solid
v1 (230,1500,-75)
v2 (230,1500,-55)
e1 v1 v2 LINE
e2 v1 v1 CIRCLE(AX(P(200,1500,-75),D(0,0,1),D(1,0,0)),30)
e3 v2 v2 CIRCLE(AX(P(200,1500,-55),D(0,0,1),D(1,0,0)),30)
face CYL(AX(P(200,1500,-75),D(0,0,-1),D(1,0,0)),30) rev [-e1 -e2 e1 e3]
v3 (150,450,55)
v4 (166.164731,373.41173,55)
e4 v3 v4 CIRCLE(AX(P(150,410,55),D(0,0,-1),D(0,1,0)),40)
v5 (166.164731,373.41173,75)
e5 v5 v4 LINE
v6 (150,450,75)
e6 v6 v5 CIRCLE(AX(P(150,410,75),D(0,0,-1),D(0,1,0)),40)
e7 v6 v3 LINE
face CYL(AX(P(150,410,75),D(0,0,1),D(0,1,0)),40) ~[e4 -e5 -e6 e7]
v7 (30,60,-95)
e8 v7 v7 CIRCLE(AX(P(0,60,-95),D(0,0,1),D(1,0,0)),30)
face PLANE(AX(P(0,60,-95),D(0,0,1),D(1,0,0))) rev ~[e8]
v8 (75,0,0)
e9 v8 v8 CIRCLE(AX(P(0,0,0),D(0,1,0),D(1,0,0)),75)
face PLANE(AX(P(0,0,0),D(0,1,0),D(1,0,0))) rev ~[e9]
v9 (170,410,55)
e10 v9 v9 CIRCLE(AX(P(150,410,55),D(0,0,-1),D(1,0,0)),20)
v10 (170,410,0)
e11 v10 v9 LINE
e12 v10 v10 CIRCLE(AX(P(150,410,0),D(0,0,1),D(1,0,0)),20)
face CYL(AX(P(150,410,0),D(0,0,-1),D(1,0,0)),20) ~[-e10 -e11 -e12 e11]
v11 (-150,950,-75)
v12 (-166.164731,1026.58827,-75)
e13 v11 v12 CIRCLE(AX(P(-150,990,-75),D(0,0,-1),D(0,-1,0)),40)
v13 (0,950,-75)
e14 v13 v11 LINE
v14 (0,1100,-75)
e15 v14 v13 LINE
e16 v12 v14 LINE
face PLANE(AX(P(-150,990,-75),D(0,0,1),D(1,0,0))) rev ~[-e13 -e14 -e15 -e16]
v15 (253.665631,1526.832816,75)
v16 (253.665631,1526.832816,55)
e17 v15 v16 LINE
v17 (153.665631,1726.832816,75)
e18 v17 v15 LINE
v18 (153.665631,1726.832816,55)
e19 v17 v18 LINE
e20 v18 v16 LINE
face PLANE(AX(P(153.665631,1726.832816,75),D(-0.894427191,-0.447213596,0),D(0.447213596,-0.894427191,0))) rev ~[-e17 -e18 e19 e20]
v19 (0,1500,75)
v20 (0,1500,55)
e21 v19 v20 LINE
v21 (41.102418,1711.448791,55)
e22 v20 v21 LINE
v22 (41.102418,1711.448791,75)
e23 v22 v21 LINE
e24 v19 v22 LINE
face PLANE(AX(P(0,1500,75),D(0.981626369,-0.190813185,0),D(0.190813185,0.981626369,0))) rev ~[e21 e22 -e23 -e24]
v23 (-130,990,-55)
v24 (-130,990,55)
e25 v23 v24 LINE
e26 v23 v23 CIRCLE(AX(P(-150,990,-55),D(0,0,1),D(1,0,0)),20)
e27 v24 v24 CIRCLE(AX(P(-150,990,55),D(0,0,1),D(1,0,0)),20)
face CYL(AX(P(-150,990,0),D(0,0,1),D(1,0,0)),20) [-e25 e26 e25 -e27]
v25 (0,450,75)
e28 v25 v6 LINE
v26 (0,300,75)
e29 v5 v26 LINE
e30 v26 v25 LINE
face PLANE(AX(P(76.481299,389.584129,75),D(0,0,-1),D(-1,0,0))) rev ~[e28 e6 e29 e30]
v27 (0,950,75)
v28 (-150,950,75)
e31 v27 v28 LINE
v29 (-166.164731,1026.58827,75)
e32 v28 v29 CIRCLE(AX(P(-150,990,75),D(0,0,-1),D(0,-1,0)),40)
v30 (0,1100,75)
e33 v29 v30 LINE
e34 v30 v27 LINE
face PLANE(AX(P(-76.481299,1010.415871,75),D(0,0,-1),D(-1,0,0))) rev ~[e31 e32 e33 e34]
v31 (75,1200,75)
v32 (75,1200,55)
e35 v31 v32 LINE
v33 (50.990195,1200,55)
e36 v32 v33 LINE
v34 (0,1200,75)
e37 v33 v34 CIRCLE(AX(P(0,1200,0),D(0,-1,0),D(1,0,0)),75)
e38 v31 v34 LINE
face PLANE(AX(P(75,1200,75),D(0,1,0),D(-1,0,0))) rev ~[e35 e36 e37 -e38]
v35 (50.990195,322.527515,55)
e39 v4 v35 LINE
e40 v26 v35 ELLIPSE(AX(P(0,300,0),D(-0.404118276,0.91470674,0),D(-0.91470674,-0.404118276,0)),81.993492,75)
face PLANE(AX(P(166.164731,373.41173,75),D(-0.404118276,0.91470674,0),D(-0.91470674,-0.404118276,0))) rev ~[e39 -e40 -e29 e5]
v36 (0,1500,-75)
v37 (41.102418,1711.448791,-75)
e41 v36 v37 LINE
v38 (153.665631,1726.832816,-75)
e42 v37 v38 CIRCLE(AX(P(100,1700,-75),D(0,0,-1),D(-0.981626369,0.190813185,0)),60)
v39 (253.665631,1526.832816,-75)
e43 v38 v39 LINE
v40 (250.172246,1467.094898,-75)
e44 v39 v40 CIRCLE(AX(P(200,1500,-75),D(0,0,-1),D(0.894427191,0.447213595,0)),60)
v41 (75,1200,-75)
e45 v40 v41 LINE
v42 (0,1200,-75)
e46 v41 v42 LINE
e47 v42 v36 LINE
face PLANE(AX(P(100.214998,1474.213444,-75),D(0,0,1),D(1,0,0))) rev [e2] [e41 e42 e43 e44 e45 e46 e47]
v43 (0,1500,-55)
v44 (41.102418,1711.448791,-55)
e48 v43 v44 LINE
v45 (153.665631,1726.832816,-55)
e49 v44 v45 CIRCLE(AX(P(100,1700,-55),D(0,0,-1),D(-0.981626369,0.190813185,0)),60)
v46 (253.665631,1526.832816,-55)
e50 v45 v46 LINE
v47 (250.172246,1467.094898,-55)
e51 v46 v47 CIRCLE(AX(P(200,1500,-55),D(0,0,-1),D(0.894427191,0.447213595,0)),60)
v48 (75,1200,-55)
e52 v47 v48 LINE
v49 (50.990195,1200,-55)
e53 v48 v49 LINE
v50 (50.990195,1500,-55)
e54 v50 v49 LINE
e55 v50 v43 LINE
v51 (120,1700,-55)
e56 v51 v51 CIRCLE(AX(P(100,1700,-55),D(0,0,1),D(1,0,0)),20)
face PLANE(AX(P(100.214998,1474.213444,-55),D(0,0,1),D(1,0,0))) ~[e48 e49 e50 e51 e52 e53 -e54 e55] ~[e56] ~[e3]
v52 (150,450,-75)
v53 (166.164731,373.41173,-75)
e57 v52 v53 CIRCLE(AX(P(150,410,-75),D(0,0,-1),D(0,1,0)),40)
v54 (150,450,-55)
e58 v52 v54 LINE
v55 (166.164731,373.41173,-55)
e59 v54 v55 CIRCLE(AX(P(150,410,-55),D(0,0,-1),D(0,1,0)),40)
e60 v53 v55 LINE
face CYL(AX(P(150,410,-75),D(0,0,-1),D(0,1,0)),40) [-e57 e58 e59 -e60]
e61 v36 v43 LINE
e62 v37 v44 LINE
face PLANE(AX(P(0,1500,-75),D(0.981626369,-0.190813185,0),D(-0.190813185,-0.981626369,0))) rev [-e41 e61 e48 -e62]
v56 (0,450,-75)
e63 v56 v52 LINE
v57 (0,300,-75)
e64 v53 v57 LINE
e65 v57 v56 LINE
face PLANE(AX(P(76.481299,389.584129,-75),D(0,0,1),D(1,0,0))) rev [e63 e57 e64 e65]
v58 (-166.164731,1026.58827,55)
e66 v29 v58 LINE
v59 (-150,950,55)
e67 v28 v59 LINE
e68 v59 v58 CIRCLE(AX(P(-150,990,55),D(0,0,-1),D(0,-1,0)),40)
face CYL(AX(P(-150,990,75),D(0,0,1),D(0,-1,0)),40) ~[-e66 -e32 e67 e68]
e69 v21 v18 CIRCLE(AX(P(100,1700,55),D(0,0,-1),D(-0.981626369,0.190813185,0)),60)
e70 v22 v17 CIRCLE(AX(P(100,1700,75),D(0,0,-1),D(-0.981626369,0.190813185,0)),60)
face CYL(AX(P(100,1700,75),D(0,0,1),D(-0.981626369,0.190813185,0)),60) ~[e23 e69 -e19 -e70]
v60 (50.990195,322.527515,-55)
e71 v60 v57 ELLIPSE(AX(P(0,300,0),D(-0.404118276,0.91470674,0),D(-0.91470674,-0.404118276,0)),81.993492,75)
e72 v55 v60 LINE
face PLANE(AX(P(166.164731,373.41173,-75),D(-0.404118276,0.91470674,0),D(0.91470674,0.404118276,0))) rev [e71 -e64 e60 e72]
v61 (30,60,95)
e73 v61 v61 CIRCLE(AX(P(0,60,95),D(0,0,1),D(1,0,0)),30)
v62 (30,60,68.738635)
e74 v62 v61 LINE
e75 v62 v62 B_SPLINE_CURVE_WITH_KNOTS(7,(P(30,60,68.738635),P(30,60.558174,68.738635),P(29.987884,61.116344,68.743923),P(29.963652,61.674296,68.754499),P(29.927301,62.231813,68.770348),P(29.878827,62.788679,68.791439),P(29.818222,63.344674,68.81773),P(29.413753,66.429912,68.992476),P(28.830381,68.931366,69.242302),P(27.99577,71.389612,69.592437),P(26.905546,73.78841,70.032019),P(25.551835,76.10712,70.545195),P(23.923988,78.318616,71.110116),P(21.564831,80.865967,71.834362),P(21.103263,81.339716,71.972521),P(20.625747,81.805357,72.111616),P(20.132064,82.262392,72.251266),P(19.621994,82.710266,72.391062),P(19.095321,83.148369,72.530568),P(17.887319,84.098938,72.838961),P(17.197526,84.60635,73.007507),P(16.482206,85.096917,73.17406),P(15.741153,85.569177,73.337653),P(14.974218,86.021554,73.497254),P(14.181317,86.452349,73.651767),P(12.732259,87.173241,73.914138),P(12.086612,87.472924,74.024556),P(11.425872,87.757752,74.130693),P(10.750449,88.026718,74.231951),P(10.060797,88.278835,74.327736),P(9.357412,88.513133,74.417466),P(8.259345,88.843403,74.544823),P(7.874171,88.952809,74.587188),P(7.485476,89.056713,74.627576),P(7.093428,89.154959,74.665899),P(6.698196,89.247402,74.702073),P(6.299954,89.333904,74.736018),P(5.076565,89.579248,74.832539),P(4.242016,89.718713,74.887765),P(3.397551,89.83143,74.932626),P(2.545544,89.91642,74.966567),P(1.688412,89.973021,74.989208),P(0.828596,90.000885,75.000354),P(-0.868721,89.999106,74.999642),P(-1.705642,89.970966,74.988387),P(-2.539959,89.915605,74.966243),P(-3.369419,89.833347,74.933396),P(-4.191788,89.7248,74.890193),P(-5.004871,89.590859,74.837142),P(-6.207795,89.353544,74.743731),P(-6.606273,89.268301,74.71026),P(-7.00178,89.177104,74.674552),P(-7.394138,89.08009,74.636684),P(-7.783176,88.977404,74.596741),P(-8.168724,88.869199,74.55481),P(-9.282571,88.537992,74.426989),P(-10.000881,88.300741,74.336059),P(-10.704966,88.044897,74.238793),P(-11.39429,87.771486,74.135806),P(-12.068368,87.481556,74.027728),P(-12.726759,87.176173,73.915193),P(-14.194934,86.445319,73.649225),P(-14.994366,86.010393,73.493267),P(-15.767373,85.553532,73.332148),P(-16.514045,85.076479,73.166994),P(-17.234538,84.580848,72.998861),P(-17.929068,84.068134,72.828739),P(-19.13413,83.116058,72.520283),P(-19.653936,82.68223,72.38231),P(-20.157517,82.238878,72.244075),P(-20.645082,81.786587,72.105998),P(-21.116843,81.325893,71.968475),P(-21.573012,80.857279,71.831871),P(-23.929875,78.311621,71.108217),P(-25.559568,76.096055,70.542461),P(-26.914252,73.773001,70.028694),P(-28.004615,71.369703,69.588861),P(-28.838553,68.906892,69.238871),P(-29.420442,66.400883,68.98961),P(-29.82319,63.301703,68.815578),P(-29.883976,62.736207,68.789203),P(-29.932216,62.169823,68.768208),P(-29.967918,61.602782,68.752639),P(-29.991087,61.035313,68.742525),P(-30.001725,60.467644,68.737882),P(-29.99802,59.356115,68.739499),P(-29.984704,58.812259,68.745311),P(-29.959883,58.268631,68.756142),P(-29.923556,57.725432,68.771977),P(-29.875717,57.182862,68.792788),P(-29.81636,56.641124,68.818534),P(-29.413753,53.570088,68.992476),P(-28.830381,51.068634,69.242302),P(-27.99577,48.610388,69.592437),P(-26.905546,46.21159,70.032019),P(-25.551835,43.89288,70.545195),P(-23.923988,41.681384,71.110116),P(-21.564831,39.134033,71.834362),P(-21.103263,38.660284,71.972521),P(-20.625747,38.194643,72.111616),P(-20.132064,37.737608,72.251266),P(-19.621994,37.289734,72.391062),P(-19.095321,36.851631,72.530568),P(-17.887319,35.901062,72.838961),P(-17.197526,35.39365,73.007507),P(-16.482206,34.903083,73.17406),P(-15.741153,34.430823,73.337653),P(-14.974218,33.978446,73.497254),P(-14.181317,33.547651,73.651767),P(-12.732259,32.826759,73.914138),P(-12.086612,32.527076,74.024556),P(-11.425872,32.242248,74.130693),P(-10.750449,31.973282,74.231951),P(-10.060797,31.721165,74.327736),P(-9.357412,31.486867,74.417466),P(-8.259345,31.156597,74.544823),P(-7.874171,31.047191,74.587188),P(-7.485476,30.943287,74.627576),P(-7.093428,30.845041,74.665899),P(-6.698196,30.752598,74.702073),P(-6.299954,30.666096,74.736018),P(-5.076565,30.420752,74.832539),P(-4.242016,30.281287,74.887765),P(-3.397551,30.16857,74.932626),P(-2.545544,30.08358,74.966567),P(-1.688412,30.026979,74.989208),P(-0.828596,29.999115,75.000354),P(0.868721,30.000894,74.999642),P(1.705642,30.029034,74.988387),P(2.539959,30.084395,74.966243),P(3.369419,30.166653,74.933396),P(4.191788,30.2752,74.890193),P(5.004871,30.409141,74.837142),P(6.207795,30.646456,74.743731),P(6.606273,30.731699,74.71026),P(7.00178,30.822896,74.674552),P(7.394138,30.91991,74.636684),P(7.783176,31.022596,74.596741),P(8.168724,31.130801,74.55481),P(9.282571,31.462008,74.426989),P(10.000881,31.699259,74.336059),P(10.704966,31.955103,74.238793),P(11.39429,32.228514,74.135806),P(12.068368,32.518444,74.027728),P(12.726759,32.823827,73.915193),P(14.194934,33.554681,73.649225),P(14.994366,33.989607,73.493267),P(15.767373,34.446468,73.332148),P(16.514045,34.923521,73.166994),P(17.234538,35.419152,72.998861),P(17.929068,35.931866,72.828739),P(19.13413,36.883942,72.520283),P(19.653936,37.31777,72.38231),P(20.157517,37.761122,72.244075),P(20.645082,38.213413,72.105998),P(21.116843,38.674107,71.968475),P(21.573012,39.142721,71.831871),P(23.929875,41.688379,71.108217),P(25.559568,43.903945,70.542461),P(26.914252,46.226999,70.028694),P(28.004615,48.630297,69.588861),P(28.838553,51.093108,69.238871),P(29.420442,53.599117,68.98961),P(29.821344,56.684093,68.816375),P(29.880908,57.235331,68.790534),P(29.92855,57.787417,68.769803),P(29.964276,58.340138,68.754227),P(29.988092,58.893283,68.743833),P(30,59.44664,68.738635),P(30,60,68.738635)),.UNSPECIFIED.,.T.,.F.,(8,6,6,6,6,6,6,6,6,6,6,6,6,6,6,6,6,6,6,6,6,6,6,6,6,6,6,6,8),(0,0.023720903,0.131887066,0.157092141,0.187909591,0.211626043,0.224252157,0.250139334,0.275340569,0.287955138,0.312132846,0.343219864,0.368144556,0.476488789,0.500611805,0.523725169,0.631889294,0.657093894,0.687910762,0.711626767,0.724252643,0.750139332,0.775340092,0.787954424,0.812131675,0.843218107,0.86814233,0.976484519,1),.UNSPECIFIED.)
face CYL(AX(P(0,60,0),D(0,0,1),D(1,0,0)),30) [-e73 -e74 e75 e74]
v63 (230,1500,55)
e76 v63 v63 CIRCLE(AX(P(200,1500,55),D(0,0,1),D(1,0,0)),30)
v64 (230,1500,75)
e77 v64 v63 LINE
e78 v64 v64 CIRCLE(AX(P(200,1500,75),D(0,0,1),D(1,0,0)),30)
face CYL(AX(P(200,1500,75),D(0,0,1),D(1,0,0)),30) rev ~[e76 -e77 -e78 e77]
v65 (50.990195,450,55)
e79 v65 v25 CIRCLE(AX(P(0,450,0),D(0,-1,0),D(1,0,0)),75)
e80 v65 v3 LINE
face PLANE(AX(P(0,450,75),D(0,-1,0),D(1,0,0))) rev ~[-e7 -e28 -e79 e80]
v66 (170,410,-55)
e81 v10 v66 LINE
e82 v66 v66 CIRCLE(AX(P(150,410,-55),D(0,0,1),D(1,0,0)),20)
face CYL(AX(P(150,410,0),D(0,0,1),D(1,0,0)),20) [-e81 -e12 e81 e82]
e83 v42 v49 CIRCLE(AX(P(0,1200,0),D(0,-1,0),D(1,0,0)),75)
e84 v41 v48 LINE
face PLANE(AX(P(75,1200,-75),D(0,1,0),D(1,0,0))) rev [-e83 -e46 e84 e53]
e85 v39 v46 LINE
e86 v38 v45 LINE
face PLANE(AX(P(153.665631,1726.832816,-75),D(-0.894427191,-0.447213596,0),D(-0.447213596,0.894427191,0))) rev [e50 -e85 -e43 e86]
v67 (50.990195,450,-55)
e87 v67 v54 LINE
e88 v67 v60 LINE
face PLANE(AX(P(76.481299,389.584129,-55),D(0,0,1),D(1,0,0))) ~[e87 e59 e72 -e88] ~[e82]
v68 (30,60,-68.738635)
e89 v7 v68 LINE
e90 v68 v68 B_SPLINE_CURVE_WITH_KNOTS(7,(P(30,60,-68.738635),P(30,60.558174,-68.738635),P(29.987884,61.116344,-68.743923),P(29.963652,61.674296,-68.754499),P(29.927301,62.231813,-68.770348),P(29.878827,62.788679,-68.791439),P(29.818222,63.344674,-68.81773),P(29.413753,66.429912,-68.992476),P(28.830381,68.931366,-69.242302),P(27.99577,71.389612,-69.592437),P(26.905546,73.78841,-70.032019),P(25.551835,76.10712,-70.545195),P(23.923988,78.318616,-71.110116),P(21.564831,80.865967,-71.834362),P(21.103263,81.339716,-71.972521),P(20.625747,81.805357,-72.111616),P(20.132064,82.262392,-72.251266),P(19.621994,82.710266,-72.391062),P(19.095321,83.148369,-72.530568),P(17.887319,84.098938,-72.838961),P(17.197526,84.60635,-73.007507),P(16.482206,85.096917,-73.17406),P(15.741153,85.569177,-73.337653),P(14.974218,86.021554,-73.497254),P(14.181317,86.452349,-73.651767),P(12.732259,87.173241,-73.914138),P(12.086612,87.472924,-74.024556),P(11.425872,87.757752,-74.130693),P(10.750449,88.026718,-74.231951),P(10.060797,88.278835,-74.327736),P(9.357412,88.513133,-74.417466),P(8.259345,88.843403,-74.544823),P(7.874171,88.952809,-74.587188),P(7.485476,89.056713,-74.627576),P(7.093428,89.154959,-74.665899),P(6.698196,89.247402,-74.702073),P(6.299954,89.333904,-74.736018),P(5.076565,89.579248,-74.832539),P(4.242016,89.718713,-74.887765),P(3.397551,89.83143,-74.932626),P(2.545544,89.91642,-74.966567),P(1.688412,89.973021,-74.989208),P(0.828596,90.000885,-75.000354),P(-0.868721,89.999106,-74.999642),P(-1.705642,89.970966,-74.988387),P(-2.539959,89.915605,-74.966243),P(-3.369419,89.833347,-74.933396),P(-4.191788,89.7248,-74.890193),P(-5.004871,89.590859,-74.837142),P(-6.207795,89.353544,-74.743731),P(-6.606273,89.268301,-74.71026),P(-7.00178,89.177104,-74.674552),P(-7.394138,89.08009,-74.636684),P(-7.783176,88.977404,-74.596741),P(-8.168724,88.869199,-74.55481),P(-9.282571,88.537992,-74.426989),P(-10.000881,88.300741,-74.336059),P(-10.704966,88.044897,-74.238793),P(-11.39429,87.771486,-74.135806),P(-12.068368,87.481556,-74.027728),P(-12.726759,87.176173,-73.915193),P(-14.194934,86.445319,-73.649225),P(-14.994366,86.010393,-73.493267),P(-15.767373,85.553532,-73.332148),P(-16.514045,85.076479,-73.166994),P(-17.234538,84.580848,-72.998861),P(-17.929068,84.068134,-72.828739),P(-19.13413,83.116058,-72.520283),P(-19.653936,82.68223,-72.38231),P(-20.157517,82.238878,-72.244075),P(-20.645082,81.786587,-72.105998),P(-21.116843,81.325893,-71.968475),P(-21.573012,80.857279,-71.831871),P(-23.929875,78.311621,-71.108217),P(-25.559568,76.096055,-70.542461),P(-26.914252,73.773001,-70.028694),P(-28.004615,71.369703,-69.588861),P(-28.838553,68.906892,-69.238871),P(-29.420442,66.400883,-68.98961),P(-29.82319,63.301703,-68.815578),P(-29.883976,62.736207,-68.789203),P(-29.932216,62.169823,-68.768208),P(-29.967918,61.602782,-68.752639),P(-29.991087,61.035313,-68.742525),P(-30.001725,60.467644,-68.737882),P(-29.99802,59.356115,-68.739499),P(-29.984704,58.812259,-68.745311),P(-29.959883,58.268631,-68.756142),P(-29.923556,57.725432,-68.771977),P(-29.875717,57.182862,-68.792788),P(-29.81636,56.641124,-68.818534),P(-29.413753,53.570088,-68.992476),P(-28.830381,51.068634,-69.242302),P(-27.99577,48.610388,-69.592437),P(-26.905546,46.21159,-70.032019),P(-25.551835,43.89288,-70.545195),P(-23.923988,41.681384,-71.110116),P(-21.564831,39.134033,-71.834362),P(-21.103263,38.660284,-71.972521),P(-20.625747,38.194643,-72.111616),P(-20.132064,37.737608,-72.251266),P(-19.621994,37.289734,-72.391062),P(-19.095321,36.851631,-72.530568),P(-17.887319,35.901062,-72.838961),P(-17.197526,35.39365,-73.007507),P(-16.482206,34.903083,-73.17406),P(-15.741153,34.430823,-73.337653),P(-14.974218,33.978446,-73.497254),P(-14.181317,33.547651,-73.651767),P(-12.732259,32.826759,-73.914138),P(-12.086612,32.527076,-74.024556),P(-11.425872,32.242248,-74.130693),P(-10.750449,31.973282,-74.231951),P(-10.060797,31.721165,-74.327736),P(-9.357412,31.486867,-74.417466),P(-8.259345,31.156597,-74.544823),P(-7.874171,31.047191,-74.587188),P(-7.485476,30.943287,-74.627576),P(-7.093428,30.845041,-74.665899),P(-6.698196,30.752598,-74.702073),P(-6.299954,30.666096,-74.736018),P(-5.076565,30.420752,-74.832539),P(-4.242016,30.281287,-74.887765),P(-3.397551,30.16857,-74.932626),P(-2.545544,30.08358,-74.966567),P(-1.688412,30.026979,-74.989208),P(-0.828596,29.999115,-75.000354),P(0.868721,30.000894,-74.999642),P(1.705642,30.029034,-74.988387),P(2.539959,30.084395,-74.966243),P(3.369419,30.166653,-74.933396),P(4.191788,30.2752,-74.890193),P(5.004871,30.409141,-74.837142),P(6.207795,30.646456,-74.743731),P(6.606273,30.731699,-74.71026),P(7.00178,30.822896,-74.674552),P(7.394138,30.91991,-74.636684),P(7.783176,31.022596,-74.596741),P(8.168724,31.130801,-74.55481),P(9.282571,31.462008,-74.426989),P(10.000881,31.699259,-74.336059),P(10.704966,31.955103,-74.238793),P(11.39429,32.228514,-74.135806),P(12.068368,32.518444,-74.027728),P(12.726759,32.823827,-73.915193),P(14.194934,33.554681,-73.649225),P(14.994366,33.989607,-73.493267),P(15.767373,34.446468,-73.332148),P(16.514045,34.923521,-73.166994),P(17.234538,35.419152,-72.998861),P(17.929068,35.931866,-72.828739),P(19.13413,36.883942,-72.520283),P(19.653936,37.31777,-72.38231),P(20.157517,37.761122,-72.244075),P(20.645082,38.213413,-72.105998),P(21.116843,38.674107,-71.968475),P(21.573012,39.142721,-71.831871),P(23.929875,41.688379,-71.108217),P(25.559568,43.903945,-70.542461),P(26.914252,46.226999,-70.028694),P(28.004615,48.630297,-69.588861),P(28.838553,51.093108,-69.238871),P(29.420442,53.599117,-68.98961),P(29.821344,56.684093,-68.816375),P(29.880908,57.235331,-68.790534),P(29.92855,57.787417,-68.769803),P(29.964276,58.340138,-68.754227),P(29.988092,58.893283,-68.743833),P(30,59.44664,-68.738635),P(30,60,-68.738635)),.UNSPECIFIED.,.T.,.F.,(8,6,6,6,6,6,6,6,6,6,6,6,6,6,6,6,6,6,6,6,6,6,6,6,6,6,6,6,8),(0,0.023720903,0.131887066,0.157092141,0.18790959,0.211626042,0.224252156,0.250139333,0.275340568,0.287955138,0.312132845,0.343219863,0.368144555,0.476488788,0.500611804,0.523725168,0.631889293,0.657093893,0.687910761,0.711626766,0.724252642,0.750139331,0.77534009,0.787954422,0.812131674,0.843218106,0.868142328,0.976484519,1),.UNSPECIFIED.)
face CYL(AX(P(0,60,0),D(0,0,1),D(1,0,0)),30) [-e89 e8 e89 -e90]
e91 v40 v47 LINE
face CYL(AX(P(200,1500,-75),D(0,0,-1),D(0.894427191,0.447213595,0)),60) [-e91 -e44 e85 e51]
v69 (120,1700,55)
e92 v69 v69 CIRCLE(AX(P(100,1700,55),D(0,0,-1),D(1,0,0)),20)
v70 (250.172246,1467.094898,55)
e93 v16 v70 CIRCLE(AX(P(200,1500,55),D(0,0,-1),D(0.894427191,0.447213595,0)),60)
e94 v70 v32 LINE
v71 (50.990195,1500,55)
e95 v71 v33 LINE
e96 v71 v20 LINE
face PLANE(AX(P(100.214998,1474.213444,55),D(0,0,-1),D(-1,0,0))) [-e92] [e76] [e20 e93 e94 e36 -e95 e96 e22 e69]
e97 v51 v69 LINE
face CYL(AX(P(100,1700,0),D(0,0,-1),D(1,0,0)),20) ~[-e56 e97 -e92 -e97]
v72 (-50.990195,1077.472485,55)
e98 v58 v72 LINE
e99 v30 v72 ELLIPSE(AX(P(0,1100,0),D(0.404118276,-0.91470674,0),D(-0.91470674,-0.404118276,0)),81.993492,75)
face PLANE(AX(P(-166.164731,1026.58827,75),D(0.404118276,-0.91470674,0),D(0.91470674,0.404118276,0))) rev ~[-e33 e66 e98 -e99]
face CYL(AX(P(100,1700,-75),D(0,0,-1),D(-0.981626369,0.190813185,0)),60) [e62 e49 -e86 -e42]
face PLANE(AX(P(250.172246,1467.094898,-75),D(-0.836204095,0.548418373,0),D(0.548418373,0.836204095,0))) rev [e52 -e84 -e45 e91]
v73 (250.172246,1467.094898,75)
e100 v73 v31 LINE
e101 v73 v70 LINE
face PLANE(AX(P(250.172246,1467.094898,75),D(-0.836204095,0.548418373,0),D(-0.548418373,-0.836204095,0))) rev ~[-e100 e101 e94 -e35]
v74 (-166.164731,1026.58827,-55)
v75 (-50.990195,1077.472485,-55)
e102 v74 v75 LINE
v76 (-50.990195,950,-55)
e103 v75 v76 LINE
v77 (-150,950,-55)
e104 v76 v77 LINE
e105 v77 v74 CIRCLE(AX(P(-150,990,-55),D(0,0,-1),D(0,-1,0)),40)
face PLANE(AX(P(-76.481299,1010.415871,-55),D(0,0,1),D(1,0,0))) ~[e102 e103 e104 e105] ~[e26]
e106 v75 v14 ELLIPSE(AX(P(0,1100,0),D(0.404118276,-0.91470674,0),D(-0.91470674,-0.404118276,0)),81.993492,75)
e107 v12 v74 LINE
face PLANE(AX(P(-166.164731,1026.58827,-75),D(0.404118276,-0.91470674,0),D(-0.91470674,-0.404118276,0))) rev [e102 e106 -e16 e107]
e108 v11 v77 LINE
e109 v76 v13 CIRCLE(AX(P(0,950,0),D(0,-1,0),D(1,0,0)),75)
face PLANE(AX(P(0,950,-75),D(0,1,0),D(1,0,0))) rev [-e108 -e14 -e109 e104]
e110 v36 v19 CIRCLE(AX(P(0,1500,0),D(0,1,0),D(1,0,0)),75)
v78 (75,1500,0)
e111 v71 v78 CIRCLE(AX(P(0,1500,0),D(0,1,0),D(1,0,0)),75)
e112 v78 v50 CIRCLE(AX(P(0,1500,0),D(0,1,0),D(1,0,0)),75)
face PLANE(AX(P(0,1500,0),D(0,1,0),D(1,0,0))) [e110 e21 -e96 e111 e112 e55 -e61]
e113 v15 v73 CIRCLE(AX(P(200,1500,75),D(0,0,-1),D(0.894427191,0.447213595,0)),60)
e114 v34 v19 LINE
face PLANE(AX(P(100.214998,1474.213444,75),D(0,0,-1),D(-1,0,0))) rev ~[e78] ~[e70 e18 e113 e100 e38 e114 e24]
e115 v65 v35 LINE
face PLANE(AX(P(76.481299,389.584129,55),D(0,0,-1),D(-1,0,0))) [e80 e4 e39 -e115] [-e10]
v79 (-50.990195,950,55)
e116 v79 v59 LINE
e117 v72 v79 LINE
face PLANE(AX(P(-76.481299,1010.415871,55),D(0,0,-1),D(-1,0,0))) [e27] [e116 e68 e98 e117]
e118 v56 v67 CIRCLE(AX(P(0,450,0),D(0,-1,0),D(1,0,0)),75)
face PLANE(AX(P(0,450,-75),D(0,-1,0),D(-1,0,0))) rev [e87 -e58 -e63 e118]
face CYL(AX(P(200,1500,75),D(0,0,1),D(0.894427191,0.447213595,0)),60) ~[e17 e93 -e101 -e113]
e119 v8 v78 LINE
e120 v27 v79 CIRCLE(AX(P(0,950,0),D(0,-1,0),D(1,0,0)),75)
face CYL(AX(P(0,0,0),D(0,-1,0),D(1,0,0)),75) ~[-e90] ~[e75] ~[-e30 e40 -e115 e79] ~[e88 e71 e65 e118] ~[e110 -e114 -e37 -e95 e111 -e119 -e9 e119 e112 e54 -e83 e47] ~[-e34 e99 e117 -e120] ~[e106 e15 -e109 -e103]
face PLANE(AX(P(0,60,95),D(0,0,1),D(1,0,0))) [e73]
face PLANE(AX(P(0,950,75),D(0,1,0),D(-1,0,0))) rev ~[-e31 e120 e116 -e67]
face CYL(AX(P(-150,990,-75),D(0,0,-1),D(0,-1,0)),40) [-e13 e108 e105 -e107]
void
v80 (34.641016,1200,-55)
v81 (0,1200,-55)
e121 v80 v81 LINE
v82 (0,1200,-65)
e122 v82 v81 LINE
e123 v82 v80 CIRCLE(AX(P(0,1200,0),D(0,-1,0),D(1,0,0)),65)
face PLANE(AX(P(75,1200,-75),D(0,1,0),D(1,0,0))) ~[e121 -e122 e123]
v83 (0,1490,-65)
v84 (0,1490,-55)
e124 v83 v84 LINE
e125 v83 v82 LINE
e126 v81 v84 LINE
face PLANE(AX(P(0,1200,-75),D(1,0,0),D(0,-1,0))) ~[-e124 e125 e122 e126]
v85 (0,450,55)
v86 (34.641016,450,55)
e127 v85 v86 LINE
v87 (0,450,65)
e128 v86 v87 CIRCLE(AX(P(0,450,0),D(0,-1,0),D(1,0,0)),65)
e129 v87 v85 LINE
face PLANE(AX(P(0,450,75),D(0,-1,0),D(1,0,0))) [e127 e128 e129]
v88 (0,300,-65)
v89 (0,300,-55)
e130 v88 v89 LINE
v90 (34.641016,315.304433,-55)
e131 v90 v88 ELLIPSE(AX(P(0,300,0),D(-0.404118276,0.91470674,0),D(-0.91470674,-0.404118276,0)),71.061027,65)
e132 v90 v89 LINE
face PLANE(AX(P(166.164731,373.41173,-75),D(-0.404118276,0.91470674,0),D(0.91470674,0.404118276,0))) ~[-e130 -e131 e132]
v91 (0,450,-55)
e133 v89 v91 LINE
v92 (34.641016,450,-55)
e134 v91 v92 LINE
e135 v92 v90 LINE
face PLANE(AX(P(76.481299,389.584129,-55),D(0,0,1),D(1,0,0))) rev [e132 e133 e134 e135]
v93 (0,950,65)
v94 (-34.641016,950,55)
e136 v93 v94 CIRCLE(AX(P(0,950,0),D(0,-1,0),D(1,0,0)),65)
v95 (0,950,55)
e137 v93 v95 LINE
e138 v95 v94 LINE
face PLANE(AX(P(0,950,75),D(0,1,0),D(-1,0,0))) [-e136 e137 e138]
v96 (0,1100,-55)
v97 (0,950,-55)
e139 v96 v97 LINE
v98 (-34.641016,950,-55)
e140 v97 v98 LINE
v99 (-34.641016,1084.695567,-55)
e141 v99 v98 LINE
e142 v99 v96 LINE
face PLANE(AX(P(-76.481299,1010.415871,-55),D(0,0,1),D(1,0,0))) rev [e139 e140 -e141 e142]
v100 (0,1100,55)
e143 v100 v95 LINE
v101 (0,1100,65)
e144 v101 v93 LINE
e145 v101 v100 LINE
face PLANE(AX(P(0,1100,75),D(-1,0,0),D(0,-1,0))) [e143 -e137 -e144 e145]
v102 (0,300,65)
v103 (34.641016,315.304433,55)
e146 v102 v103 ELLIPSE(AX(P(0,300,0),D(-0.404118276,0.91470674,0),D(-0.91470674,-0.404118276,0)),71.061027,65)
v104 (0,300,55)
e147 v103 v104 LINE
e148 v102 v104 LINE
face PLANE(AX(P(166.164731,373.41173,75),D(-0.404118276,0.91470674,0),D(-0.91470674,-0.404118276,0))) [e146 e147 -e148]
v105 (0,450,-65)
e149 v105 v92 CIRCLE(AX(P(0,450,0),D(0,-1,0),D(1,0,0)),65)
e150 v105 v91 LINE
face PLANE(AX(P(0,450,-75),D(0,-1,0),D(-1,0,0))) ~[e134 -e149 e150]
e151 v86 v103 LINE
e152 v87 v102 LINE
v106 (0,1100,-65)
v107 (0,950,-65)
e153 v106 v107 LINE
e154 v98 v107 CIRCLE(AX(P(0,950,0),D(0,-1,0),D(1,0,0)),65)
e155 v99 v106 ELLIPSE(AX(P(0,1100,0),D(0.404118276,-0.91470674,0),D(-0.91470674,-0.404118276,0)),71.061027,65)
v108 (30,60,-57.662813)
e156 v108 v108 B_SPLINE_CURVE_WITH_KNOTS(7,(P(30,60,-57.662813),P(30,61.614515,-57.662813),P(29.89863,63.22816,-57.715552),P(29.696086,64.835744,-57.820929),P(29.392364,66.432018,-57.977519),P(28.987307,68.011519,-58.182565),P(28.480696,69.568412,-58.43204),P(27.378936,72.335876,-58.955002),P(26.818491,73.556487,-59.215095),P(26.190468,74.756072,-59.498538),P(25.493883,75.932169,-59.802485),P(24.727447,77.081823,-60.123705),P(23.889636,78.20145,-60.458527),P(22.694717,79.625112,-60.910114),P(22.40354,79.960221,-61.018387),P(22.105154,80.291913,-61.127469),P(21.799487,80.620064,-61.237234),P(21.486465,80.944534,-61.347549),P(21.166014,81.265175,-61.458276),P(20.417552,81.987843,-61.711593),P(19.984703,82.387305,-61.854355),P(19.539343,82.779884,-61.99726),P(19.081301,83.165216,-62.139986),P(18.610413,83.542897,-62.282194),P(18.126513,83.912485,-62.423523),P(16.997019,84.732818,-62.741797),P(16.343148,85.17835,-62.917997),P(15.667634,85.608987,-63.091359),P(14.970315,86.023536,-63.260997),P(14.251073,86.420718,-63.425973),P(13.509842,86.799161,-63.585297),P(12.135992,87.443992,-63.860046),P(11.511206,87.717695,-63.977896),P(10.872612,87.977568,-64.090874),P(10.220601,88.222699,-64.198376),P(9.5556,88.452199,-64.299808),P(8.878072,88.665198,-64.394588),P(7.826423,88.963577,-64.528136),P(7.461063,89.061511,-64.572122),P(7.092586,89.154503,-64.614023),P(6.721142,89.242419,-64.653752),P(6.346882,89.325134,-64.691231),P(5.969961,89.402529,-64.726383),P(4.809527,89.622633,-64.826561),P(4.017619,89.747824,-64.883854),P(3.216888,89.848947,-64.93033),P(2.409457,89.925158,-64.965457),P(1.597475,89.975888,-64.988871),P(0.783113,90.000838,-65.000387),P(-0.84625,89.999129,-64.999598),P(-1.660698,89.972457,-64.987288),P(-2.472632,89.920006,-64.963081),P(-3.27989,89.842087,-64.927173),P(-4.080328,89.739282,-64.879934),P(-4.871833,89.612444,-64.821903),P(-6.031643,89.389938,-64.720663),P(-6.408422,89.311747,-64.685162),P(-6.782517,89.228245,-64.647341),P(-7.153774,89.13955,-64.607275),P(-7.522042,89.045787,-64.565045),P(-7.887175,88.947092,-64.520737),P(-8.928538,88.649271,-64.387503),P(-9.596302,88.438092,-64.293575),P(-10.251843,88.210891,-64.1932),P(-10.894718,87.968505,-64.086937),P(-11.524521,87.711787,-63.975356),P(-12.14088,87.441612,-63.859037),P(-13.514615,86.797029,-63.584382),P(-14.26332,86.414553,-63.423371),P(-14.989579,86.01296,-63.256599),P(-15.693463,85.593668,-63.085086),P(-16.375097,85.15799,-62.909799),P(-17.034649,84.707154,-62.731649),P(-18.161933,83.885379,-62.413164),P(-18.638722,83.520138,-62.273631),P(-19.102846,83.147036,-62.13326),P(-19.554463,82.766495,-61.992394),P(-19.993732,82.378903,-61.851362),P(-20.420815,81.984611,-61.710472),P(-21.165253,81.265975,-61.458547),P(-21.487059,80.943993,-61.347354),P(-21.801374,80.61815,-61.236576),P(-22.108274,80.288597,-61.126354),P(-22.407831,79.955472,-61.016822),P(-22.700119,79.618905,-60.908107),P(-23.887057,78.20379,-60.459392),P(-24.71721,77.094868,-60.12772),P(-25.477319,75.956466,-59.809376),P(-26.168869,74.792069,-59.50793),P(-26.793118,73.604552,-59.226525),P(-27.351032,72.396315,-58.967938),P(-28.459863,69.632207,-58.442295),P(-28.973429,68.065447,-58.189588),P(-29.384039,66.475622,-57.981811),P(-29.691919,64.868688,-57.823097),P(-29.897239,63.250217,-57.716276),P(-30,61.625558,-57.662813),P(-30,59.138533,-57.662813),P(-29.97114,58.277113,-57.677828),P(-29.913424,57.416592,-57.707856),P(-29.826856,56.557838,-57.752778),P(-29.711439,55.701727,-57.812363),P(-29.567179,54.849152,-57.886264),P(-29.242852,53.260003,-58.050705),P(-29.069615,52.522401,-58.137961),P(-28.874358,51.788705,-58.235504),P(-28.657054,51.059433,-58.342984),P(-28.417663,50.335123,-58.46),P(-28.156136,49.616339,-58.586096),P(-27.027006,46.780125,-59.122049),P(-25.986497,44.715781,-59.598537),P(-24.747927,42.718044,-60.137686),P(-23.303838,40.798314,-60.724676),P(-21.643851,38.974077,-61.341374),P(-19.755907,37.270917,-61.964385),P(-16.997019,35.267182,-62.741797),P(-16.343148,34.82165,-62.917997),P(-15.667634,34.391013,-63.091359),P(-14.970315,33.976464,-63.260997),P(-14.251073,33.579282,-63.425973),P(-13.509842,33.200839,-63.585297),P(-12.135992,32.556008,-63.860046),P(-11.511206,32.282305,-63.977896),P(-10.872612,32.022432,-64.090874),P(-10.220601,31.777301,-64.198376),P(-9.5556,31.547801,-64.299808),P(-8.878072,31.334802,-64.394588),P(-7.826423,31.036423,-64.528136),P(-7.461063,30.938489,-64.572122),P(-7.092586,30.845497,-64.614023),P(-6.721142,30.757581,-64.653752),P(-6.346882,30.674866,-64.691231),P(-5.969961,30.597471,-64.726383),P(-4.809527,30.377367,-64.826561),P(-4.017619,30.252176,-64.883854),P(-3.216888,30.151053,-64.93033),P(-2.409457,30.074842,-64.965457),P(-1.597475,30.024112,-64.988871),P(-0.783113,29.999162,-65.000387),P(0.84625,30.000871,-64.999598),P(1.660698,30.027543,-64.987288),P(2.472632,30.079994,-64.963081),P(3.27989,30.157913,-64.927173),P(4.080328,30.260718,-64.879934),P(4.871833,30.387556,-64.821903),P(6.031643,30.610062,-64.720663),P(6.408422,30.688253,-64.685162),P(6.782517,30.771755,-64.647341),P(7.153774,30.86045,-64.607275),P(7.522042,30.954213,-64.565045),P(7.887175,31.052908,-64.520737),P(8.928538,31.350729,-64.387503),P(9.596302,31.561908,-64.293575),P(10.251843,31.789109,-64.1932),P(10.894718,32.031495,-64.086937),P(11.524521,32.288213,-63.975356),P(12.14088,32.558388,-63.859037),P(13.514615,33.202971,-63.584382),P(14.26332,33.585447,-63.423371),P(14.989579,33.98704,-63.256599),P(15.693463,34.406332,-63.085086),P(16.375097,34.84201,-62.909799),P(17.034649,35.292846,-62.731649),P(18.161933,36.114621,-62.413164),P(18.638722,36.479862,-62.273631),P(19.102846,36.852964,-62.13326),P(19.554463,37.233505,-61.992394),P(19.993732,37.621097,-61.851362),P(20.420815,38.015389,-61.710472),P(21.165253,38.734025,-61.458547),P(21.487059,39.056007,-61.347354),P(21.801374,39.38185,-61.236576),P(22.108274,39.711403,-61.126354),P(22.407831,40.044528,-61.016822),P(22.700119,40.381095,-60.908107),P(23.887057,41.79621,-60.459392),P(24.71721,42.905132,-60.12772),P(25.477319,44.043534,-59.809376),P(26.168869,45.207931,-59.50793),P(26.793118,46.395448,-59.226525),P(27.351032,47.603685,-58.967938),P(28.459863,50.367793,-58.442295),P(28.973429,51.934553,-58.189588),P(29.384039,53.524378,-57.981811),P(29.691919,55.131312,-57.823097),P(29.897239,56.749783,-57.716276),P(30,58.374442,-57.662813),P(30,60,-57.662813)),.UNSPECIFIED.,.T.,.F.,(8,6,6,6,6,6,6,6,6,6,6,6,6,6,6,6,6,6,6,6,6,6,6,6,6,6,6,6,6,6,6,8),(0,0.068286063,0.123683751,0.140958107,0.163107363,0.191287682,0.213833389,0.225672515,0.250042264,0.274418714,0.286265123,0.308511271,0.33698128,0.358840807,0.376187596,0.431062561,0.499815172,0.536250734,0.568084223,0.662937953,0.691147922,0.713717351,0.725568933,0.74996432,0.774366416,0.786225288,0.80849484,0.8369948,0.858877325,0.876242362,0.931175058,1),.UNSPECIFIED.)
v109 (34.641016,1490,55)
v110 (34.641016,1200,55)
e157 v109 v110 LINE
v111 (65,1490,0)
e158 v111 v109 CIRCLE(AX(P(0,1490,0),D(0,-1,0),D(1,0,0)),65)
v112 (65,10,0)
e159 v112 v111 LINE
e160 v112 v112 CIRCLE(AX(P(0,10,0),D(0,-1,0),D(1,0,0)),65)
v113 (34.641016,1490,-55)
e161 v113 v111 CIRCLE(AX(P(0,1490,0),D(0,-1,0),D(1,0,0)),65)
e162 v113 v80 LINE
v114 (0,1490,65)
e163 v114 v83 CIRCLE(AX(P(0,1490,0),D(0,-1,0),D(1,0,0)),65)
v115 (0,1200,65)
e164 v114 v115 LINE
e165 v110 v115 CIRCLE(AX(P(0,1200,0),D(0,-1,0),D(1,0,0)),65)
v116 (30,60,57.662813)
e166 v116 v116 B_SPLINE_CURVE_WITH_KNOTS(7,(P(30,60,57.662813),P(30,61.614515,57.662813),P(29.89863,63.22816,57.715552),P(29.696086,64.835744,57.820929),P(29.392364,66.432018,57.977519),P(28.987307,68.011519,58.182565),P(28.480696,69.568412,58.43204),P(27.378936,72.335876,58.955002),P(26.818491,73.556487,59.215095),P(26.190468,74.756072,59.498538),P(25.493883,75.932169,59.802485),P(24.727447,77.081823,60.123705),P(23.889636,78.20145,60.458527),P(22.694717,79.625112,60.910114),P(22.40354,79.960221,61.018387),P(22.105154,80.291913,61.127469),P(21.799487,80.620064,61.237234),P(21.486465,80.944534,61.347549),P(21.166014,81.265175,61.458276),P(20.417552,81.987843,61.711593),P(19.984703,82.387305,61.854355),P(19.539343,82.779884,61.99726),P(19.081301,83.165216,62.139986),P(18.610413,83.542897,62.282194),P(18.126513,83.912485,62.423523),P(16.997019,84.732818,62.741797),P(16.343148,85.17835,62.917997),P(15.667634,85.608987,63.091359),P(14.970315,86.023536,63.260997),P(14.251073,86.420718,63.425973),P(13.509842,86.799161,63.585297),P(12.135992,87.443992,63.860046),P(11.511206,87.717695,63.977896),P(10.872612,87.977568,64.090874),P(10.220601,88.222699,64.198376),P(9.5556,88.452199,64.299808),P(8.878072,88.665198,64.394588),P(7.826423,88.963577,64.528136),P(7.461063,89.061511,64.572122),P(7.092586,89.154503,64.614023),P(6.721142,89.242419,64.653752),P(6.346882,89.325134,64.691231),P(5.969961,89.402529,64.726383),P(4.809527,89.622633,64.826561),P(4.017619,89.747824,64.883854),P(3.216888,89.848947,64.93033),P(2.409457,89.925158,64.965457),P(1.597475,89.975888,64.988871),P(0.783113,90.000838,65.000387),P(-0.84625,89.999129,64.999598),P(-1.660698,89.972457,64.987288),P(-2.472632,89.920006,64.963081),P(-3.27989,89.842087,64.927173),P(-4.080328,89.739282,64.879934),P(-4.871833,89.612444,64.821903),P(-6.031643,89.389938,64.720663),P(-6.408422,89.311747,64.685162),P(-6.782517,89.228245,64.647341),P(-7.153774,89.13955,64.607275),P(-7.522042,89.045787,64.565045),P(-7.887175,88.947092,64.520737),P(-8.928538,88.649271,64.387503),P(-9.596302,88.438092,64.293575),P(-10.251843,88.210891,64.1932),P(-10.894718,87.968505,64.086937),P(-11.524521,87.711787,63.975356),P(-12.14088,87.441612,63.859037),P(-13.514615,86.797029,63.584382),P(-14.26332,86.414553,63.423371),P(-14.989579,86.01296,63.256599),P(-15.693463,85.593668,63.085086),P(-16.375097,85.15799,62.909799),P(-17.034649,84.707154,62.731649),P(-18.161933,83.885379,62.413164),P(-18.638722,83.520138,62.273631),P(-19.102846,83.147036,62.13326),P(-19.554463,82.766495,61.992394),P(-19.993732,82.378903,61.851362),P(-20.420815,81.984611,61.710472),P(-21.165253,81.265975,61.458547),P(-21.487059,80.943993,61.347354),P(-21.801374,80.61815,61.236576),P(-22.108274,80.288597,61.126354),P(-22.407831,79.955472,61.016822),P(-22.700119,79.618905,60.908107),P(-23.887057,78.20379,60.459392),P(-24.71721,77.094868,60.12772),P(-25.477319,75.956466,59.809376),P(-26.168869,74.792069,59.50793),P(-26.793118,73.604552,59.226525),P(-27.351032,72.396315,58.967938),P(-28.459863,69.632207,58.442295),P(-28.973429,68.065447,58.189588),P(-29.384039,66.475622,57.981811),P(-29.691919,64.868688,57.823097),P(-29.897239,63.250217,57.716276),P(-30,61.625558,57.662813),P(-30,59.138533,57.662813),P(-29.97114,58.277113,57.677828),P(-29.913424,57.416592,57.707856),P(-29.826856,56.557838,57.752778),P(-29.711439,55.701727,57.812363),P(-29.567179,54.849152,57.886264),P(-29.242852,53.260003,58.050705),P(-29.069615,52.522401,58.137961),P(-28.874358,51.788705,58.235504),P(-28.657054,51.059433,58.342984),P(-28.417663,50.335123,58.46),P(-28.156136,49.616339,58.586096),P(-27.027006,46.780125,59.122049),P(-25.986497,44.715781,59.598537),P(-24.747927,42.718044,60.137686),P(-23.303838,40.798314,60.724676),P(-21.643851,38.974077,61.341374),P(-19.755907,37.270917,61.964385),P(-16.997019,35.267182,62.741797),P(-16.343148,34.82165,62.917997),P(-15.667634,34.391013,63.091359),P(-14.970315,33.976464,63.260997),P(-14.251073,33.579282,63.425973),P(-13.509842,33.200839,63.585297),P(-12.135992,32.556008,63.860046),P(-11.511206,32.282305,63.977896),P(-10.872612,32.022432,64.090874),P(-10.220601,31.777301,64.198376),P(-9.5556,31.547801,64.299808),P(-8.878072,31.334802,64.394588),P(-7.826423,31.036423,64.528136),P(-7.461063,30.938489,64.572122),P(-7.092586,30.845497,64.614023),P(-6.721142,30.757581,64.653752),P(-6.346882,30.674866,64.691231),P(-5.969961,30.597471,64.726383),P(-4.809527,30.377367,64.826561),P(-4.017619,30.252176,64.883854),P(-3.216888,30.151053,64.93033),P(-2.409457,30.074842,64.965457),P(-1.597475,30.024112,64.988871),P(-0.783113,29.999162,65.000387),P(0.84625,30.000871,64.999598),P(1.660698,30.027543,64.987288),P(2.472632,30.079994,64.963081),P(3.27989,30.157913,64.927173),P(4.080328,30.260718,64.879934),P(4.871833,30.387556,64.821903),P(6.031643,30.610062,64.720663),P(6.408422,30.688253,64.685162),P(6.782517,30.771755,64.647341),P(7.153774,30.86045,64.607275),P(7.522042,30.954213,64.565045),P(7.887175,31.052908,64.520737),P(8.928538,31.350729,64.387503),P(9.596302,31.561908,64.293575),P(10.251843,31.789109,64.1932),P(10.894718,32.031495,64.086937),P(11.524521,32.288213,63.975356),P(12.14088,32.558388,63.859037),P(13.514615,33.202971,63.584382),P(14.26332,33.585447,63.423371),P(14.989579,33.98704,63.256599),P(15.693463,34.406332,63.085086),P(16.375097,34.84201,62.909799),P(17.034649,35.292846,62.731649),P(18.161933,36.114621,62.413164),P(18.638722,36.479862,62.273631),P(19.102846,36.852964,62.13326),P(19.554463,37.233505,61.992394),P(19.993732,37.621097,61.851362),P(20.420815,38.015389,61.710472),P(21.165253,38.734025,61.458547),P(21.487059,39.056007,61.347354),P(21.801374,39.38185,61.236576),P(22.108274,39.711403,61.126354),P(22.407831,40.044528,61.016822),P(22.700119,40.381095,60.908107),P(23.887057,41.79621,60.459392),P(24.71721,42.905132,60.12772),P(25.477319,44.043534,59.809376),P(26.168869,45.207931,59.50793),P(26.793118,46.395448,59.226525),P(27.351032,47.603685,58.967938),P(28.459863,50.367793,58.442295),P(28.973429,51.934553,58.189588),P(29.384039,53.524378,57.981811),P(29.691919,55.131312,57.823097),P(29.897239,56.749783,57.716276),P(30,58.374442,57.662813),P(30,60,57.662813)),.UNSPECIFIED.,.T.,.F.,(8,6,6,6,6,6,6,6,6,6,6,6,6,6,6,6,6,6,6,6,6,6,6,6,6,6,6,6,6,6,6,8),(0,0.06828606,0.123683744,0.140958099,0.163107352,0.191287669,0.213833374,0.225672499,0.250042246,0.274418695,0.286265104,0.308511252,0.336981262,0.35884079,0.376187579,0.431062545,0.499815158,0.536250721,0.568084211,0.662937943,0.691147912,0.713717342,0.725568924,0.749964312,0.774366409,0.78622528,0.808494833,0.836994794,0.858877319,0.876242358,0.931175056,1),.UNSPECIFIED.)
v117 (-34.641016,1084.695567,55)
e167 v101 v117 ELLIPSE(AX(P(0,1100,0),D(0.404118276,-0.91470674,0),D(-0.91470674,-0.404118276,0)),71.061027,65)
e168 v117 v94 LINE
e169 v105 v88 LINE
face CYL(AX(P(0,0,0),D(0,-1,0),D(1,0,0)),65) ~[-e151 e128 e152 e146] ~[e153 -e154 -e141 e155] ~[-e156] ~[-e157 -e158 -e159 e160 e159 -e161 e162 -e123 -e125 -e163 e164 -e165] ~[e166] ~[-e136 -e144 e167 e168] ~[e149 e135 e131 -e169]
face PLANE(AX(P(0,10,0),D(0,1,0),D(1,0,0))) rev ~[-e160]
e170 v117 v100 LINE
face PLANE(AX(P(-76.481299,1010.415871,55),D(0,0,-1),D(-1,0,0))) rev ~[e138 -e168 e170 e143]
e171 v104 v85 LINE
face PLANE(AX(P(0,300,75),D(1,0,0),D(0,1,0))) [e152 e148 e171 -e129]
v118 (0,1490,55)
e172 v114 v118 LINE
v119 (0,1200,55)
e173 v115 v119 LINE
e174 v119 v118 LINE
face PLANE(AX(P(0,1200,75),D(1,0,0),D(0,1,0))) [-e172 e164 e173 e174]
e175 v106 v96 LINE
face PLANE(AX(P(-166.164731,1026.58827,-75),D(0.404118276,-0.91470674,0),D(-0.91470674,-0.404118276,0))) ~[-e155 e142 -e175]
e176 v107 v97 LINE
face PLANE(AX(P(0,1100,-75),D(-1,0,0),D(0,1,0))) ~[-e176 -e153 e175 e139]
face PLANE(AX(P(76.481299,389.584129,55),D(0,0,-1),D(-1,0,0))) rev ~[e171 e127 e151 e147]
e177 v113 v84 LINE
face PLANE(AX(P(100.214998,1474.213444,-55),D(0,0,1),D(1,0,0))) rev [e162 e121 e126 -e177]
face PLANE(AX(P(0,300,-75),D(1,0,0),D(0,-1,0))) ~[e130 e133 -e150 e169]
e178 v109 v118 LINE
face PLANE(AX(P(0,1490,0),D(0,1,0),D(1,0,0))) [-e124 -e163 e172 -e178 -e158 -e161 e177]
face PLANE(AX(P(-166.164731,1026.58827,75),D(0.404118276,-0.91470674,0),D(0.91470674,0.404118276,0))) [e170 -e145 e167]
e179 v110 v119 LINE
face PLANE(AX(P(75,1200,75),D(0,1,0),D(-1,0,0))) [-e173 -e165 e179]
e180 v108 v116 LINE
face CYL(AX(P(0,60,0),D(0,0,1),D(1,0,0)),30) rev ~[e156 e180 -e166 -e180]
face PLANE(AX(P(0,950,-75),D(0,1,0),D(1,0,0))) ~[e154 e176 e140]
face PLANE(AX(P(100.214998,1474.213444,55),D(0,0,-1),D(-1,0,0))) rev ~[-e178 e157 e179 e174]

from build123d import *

# Parameters (mm, degrees)
SKETCH2_R           = 75
BOSS_EXTRUDE1_DEPTH = 1500
SHELL4_T            = 10
BOSS_EXTRUDE2_START = 75
SKETCH3_R           = 30
BOSS_EXTRUDE2_DEPTH = 20
SKETCH10_R          = 30
BOSS_EXTRUDE3_DEPTH = 95
SKETCH12_R          = 20
BOSS_EXTRUDE4_DEPTH = 75


with BuildPart() as part:
    # Sketch2 → Boss-Extrude1 (new body)
    with BuildSketch(Plane(origin=(0, 0, 0), x_dir=(1, 0, 0), z_dir=(0, 1, 0))):
        Circle(SKETCH2_R)
    extrude(amount=BOSS_EXTRUDE1_DEPTH)

    # Shell4 (no face opened: a closed hollow body)
    add(offset(amount=-SHELL4_T, mode=Mode.PRIVATE), mode=Mode.SUBTRACT)

    # Sketch3 → Boss-Extrude2 (add)
    with BuildSketch(Plane.XY.offset(BOSS_EXTRUDE2_START)):
        with BuildLine():
            Line((0, 450), (150, 450))
            ThreePointArc((150, 450), (189.137774485, 418.260424226), (166.164731025, 373.41173042))
            Line((166.164731025, 373.41173042), (0, 300))
            Line((0, 300), (0, 450))
        make_face()
        with BuildLine():
            Line((0, 1100), (0, 950))
            Line((0, 950), (-150, 950))
            ThreePointArc((-150, 950), (-189.137774485, 981.739575774), (-166.164731025, 1026.58826958))
            Line((-166.164731025, 1026.58826958), (0, 1100))
        make_face()
        with BuildLine():
            Line((0, 1200), (0, 1500))
            Line((0, 1500), (41.102417852, 1711.448791074))
            ThreePointArc((41.102417852, 1711.448791074), (91.875322735, 1759.447368481), (153.66563146, 1726.83281573))
            Line((153.66563146, 1726.83281573), (253.66563146, 1526.83281573))
            ThreePointArc((253.66563146, 1526.83281573), (259.897670219, 1496.497272164), (250.172245693, 1467.094897628))
            Line((250.172245693, 1467.094897628), (75, 1200))
            Line((75, 1200), (0, 1200))
        make_face()
        with Locations((200, 1500)):
            Circle(SKETCH3_R, mode=Mode.SUBTRACT)
    boss_extrude2 = extrude(amount=-BOSS_EXTRUDE2_DEPTH)

    # Mirror11: Boss-Extrude2 across plane
    add(boss_extrude2.mirror(Plane(origin=(0, 0, 0), x_dir=(1, 0, 0), z_dir=(0, 0, -1))))

    # Sketch10 → Boss-Extrude3 (add, symmetric)
    with BuildSketch(Plane.XY):
        with Locations((0, 60)):
            Circle(SKETCH10_R)
    extrude(amount=BOSS_EXTRUDE3_DEPTH, both=True)

    # Sketch12 → Boss-Extrude4 (add, symmetric)
    with BuildSketch(Plane.XY):
        with Locations((150, 410)):
            Circle(SKETCH12_R)
        with Locations((100, 1700)):
            Circle(SKETCH12_R)
        with Locations((-150, 990)):
            Circle(SKETCH12_R)
    extrude(amount=BOSS_EXTRUDE4_DEPTH, both=True)


solid = part.part
